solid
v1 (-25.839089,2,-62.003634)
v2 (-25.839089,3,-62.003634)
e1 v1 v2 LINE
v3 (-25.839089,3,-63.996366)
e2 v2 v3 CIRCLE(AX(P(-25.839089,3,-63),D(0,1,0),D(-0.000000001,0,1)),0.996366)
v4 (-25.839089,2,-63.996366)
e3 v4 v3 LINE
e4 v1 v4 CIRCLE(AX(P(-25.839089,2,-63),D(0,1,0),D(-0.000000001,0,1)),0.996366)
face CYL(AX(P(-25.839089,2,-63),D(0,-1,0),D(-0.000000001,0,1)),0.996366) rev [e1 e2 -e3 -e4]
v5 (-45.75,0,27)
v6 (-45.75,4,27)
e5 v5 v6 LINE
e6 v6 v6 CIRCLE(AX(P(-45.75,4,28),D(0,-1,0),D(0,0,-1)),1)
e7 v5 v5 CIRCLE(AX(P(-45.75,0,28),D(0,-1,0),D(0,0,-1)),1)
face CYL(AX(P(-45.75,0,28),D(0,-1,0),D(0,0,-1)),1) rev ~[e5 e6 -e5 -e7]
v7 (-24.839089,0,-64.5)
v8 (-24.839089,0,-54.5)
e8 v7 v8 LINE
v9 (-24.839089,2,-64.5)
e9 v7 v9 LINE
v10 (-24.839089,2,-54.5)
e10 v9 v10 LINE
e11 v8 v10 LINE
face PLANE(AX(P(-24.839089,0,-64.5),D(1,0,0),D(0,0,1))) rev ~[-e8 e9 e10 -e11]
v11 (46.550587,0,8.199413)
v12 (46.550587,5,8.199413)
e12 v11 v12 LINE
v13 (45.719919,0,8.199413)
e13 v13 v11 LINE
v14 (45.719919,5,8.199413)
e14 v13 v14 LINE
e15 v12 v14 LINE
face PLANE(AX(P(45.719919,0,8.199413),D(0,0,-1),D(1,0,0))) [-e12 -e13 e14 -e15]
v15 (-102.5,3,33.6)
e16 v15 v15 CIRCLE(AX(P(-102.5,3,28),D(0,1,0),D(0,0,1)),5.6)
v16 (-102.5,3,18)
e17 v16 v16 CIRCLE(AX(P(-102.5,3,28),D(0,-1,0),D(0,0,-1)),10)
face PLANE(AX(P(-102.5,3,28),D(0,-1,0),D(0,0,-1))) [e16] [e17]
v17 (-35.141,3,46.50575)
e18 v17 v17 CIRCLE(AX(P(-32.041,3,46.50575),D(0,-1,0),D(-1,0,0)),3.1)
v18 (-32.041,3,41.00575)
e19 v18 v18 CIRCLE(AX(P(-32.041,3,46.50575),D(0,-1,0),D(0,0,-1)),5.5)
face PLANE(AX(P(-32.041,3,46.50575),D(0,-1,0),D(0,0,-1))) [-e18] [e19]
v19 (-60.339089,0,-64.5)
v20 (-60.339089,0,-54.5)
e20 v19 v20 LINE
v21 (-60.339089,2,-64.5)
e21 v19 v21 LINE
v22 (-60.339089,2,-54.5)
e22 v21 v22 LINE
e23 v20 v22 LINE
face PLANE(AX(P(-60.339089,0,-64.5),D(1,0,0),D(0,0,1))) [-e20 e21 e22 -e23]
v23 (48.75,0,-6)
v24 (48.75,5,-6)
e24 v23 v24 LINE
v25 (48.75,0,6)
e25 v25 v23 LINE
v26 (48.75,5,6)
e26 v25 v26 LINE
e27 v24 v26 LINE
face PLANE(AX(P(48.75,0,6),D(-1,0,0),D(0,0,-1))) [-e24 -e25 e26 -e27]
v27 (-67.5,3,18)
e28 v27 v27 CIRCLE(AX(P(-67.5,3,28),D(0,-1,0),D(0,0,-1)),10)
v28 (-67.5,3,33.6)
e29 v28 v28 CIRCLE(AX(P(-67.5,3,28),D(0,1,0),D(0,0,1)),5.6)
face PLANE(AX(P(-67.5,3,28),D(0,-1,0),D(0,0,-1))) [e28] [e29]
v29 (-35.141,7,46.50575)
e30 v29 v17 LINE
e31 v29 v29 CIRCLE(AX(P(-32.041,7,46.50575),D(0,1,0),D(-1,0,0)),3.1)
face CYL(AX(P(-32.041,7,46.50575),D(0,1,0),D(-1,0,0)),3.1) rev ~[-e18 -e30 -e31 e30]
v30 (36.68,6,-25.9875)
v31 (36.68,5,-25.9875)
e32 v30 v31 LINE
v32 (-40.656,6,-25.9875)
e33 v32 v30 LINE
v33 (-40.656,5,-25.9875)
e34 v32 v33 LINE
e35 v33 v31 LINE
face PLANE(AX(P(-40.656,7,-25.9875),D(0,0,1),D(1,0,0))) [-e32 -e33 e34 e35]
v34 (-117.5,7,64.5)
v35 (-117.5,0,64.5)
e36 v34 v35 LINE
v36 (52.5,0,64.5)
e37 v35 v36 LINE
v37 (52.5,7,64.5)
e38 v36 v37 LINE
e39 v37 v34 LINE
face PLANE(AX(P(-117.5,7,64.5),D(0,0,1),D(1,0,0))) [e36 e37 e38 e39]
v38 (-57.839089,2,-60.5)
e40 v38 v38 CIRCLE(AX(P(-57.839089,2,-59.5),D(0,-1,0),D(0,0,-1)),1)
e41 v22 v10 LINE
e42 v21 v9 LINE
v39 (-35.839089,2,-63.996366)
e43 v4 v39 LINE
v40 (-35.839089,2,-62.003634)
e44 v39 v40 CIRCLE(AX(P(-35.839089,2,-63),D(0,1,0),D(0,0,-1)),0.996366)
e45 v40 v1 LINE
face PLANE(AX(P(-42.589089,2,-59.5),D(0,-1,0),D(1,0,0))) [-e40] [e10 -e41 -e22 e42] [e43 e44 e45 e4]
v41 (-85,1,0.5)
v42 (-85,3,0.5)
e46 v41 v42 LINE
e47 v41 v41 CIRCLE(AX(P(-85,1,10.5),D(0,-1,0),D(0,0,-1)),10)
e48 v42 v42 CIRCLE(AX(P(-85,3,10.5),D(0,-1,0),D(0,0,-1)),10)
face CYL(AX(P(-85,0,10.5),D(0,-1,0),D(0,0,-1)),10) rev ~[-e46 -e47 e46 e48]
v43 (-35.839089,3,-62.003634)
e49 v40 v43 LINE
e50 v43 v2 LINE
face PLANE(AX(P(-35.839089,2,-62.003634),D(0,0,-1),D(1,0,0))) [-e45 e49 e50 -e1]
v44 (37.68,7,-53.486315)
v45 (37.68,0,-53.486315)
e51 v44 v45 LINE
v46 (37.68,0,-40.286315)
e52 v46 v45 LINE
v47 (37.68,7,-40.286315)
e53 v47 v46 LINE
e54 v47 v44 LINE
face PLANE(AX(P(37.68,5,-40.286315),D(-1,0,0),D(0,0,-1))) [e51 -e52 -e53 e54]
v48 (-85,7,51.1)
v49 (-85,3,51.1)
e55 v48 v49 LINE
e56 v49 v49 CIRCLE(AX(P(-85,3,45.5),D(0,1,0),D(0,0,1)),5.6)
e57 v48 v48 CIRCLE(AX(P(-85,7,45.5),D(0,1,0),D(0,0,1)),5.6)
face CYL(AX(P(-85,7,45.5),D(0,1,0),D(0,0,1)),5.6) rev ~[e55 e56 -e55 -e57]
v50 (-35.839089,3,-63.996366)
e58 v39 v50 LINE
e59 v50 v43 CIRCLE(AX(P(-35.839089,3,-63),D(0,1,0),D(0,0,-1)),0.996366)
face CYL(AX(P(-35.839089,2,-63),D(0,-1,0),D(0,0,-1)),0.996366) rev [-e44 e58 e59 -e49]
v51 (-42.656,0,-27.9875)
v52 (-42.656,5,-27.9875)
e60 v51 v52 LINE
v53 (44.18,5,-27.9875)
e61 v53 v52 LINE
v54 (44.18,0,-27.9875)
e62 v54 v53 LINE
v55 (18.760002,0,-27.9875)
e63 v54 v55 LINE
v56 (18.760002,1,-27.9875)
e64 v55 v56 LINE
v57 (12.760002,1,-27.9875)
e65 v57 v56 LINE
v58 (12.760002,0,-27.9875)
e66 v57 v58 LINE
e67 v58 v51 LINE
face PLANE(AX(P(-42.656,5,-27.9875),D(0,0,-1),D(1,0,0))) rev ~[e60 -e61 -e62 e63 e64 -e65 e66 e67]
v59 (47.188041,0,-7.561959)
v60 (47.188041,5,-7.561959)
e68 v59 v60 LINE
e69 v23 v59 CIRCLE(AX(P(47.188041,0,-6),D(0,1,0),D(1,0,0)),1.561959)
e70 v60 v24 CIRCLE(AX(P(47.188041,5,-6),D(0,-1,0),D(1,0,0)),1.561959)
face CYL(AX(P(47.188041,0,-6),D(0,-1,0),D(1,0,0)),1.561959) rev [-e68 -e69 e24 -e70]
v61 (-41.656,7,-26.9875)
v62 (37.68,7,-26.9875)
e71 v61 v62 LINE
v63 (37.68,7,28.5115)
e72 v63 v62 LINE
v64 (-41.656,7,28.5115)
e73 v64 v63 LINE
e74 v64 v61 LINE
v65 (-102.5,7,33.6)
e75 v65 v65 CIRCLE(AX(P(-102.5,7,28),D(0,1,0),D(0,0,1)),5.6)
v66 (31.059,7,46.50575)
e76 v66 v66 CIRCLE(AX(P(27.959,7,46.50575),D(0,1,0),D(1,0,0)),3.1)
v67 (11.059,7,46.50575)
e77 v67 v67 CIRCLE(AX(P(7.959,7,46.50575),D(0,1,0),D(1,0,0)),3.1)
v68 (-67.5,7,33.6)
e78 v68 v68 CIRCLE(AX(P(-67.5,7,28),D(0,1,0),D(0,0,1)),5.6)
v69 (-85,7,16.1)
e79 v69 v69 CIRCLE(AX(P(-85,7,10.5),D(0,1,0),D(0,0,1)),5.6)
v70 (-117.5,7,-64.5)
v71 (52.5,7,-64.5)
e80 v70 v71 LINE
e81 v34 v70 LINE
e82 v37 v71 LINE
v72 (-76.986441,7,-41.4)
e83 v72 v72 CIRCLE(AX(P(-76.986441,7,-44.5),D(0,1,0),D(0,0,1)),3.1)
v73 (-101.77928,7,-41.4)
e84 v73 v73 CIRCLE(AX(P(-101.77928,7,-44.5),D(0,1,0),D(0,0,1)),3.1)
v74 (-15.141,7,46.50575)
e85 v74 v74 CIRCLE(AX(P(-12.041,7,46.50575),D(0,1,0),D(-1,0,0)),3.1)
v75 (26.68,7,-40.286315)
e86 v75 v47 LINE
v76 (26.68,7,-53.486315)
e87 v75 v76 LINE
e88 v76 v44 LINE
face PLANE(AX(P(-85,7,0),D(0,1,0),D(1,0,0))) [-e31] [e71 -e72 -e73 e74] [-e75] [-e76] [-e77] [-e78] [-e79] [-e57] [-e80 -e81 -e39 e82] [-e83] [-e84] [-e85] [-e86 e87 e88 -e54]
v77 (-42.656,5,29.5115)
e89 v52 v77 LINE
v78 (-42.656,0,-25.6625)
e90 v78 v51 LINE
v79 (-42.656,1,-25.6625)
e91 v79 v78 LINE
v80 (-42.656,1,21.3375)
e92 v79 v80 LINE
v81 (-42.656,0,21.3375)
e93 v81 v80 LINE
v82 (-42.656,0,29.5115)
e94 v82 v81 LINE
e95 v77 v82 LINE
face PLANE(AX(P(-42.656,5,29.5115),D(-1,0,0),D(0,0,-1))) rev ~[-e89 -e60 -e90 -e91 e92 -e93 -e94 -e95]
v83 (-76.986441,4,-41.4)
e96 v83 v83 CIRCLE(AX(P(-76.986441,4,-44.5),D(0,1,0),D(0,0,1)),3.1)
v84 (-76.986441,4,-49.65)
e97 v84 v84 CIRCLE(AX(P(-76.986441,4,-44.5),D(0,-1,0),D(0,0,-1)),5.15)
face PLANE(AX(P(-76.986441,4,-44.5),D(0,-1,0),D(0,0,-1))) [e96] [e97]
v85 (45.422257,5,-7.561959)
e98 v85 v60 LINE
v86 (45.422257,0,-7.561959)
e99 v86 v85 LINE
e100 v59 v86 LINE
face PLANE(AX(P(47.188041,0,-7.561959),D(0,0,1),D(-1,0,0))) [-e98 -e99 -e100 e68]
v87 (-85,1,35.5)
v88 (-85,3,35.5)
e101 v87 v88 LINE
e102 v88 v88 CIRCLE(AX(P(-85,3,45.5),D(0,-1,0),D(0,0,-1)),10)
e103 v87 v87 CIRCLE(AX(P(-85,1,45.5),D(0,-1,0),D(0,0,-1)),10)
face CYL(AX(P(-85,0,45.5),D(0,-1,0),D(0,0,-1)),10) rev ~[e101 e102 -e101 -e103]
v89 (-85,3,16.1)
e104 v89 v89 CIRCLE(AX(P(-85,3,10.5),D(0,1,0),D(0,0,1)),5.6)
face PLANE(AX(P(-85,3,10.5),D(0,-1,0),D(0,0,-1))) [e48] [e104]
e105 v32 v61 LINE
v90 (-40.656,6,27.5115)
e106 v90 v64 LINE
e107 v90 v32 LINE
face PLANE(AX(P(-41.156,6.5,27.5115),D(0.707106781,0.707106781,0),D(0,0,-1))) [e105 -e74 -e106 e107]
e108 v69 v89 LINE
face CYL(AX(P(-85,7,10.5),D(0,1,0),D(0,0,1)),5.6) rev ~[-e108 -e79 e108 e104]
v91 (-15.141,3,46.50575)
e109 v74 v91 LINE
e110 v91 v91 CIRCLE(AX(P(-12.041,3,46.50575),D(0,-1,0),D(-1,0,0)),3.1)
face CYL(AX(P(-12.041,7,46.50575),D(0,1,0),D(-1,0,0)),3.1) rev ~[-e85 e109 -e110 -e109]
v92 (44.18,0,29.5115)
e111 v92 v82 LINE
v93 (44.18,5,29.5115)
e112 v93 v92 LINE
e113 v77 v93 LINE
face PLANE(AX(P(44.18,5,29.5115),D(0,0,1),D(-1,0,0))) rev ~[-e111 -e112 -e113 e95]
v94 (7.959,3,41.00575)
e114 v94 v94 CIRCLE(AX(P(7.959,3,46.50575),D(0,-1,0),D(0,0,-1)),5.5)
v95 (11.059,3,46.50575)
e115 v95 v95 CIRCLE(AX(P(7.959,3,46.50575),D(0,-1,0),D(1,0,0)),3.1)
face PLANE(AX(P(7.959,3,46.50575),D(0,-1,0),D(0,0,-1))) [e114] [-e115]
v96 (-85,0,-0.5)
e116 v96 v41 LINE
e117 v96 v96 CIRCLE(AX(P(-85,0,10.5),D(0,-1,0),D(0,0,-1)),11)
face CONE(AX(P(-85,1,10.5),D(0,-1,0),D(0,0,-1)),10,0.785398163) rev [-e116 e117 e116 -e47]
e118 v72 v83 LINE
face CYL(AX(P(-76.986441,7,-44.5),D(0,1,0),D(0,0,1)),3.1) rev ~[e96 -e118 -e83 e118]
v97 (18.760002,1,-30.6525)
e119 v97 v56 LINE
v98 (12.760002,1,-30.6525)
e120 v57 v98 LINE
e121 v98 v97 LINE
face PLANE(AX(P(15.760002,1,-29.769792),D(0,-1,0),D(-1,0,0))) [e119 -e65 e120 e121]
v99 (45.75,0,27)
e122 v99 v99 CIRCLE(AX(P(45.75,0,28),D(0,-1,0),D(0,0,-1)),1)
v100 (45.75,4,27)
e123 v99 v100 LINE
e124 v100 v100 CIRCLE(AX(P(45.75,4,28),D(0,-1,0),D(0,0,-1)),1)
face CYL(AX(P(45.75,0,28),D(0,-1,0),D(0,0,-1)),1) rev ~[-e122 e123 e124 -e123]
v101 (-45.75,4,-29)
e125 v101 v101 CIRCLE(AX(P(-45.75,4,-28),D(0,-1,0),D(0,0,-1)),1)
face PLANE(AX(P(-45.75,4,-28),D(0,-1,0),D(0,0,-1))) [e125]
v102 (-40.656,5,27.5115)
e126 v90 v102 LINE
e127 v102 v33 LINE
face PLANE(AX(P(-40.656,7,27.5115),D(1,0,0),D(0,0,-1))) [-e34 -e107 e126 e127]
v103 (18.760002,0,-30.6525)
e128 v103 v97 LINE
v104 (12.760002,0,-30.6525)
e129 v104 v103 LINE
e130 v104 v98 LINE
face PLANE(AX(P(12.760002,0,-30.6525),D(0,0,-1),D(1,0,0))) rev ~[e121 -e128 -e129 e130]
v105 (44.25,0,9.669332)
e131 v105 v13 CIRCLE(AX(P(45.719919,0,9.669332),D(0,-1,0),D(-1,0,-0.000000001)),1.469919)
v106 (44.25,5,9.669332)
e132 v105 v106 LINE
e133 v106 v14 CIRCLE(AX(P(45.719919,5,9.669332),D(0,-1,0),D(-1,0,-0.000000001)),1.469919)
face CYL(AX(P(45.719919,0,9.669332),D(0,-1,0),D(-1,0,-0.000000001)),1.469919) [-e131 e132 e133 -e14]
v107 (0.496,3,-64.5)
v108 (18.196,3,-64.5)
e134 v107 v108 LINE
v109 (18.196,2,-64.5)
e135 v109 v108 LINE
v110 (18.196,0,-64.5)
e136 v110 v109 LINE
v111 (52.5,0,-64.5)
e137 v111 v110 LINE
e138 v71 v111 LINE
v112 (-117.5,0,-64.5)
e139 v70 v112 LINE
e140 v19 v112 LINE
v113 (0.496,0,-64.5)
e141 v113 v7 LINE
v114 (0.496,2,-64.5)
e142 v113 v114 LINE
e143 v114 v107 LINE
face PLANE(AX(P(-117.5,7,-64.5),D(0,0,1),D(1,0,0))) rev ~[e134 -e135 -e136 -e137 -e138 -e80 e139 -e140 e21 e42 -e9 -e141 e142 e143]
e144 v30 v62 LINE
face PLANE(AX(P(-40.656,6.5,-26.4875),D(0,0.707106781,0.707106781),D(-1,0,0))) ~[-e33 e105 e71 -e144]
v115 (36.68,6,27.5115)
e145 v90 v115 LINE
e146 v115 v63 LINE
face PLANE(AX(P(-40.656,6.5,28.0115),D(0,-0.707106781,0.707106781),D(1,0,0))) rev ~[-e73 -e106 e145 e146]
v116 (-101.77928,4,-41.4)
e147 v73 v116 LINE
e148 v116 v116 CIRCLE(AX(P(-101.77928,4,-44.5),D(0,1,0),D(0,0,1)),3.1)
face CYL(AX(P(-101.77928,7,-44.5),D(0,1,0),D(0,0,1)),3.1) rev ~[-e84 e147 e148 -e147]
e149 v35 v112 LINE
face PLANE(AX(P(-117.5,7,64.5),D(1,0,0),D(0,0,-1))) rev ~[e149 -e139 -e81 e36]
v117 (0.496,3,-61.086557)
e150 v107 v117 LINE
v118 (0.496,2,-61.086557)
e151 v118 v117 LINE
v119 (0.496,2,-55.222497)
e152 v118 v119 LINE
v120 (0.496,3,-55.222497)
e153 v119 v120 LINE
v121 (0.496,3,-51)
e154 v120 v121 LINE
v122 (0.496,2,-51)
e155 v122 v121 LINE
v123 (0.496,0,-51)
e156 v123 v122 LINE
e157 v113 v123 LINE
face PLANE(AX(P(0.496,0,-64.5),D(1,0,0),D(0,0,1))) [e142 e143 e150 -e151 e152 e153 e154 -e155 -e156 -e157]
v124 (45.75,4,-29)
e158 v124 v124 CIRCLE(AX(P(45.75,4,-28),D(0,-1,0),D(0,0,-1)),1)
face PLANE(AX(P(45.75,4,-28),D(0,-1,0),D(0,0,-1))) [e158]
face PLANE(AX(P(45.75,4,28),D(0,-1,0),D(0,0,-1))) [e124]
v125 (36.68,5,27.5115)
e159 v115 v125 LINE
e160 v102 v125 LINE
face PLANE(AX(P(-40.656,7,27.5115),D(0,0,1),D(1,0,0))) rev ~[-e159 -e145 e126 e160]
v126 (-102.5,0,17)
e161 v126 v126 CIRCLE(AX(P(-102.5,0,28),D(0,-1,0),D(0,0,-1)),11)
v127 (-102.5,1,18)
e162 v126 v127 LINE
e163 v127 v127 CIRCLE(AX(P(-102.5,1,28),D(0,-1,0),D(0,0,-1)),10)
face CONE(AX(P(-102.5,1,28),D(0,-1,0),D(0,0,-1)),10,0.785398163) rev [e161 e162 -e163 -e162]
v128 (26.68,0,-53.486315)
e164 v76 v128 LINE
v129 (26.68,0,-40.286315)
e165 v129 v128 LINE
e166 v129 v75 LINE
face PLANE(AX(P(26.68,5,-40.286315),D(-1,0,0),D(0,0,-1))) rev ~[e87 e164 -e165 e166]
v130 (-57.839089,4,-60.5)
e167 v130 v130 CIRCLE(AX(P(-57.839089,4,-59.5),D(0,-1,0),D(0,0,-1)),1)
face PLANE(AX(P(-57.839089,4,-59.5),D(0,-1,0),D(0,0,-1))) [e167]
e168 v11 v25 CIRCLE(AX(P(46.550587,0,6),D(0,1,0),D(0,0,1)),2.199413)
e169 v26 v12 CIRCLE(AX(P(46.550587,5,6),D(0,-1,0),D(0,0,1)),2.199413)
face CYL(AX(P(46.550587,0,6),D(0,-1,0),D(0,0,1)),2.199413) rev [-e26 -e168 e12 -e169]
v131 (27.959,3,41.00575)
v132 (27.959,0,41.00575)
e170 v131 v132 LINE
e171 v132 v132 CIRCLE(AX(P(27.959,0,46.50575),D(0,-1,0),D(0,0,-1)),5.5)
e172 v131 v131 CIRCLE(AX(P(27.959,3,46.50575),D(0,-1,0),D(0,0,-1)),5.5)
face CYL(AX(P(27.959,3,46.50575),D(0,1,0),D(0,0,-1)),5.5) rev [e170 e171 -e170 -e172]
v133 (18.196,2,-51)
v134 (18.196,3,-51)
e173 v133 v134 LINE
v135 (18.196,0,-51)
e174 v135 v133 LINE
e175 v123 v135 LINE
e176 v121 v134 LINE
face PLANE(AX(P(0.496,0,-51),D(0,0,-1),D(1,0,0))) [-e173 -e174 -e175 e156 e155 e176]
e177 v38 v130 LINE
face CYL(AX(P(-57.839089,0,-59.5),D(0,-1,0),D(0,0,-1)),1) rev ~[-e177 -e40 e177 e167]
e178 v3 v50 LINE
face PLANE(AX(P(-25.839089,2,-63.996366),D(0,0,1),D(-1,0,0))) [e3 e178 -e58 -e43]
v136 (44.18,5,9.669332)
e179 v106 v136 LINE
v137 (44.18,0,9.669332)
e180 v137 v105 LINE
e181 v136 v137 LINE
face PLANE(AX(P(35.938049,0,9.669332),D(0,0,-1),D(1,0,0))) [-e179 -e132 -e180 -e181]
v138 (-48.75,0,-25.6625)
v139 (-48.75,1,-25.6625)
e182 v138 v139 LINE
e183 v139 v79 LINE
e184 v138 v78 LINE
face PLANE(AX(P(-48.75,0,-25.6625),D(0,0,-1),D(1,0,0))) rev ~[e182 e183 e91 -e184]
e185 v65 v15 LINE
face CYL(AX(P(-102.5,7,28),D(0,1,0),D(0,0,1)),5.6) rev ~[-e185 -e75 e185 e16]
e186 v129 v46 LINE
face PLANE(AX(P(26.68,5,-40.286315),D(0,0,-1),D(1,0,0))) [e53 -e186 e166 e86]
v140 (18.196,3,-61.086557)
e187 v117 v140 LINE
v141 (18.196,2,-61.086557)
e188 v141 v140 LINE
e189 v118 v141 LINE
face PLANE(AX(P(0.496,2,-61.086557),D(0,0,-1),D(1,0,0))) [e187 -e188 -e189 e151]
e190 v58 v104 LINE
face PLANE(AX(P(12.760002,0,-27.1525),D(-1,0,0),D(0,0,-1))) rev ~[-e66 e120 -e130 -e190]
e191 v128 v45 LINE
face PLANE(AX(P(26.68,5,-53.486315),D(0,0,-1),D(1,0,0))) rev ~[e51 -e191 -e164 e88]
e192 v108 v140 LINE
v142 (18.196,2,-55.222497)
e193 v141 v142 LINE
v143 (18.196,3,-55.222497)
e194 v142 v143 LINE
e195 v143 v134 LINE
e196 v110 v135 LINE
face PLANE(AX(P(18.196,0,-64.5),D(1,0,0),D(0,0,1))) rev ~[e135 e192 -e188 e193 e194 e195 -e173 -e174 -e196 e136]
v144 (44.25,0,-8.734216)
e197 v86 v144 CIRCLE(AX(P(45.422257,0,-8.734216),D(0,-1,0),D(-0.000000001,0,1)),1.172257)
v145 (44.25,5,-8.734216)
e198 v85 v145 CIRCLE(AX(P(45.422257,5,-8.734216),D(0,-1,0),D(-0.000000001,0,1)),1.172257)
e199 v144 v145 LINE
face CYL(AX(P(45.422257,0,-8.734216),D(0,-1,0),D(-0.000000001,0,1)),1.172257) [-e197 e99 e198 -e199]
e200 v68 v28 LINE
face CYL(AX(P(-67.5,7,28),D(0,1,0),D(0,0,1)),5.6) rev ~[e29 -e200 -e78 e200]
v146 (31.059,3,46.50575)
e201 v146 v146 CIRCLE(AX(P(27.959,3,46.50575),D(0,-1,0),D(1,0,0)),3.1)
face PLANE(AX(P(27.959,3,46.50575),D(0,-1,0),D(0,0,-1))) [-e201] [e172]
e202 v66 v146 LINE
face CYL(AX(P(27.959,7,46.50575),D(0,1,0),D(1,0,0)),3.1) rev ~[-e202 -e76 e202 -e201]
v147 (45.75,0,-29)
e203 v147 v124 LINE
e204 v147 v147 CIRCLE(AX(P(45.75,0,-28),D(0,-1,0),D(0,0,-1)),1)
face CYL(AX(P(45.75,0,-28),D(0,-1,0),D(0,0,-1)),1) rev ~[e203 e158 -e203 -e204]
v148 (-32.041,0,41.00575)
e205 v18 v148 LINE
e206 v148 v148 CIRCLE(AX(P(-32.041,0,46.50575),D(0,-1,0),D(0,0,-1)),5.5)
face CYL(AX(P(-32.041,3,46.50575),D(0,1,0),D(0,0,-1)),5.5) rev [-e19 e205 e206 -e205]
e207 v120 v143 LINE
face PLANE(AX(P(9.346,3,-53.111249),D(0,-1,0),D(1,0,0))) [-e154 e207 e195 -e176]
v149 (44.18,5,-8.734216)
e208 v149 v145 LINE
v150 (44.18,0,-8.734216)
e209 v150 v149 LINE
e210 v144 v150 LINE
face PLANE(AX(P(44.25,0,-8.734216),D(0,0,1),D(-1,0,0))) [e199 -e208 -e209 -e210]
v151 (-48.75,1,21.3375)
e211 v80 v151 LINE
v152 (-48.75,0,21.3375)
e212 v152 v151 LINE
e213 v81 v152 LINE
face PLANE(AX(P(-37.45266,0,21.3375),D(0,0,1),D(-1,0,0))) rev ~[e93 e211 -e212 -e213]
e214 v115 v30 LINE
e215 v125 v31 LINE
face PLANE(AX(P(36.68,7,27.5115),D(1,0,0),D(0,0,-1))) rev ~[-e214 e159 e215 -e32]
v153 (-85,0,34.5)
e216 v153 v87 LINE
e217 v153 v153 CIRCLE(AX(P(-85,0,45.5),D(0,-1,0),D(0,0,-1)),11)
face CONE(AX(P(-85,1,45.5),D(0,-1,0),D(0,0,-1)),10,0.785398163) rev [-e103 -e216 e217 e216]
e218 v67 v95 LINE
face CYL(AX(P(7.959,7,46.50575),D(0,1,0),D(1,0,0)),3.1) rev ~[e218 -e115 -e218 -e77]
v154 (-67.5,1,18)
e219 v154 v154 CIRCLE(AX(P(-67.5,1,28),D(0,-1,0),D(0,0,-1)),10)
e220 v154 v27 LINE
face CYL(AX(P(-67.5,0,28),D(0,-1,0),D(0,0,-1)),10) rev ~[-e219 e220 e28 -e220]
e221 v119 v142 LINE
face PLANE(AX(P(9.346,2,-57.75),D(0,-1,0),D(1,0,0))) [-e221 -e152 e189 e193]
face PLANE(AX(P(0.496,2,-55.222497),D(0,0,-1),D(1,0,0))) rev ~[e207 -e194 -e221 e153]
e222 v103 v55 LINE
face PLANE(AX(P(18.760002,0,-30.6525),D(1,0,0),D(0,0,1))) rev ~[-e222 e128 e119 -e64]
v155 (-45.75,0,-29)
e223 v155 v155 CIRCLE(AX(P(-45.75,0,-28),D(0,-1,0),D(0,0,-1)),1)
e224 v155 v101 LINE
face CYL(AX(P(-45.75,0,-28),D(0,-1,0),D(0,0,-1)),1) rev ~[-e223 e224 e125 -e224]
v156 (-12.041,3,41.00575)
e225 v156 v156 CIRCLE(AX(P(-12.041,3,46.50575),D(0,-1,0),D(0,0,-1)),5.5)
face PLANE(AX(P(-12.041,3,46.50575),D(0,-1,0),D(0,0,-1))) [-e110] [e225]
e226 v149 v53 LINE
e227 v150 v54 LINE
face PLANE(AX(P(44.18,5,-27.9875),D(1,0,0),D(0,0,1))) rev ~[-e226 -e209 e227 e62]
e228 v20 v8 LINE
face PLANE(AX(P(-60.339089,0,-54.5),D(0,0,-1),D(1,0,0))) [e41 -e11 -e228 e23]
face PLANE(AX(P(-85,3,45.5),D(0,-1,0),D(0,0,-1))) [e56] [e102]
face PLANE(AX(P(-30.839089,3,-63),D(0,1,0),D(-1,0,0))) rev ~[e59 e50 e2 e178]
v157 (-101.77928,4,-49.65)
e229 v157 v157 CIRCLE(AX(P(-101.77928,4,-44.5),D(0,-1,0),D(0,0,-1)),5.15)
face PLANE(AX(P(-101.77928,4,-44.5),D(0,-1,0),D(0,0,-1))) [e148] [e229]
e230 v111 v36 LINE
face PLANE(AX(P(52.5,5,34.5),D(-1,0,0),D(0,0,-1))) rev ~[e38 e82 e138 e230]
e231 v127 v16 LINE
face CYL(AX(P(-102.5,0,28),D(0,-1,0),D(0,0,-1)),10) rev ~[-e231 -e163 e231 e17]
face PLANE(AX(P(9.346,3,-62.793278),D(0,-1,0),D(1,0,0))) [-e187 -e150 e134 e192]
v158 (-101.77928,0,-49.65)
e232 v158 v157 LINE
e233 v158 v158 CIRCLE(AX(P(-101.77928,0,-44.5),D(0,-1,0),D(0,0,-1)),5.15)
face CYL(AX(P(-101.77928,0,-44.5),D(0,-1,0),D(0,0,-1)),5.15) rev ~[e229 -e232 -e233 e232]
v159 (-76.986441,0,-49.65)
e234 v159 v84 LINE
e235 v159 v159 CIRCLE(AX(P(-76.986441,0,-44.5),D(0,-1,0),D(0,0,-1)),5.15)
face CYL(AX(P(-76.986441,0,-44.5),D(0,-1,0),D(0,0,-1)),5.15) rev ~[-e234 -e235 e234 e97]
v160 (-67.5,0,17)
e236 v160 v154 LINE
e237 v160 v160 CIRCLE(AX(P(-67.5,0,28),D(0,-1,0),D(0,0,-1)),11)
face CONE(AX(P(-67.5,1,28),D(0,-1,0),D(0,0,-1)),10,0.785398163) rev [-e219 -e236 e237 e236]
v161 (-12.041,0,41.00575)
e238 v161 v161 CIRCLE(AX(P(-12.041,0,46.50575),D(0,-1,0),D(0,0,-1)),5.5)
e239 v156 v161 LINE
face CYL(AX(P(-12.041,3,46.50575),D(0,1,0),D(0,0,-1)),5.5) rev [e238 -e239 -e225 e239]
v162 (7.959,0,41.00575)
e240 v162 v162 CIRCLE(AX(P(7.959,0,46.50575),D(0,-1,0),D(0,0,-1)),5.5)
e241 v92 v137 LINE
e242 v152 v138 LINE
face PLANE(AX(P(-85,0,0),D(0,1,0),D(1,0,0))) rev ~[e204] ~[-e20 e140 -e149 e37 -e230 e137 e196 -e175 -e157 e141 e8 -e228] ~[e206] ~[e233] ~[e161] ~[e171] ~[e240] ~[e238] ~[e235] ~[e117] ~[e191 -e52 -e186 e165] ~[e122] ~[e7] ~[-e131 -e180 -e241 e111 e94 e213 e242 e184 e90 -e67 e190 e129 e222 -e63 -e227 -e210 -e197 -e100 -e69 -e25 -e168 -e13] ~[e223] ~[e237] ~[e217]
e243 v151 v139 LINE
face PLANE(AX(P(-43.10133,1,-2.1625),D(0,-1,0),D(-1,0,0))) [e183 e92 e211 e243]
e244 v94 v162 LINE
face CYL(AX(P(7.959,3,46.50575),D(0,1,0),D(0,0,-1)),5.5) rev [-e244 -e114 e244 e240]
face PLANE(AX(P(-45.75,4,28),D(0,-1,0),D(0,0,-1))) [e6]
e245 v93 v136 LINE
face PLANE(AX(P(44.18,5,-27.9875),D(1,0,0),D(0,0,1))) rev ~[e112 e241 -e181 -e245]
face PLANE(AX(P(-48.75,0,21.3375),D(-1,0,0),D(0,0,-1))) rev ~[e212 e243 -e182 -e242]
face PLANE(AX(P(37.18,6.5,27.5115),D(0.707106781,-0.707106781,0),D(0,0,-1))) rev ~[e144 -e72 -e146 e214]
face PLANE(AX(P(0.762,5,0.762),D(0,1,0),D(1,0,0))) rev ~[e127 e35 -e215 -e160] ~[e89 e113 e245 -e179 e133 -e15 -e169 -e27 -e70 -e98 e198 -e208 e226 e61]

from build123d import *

# Parameters (mm, degrees)
SKETCH1_W           = 105
SKETCH1_H           = 69
BOSS_EXTRUDE1_DEPTH = 5
SKETCH2_W           = 86.836
SKETCH2_H           = 57.499
CUT_EXTRUDE1_DEPTH  = 81.210380614
CUT_EXTRUDE2_DEPTH  = 1
SKETCH4_W           = 5
SKETCH4_H           = 2.165
SKETCH4_H_2         = 0.335
CUT_EXTRUDE3_DEPTH  = 1
CUT_EXTRUDE4_DEPTH  = 81.210380614
SKETCH9_R           = 1
CUT_EXTRUDE7_DEPTH  = 4
SKETCH7_W           = 105
SKETCH7_H           = 30
BOSS_EXTRUDE2_DEPTH = 5
SKETCH8_W           = 11
SKETCH8_H           = 13.2
CUT_EXTRUDE6_DEPTH  = 84.315664794
SKETCH10_W          = 105
SKETCH10_H          = 99
SKETCH10_W_2        = 11
SKETCH10_H_2        = 13.2
SKETCH10_H_3        = 30
BOSS_EXTRUDE3_DEPTH = 2
SKETCH11_W          = 77.336
SKETCH11_H          = 53.499
BOSS_EXTRUDE4_DEPTH = 2
CHAMFER1_SIZE       = 1
SKETCH12_W          = 65
SKETCH12_H          = 129
SKETCH12_R          = 5.6
BOSS_EXTRUDE5_DEPTH = 7
CUT_EXTRUDE8_DEPTH  = 135.221831309
CUT_EXTRUDE9_START  = -3
SKETCH16_R          = 5.5
SKETCH16_R_2        = 3.1
CUT_EXTRUDE9_DEPTH  = 3
SKETCH18_R          = 10
CUT_EXTRUDE10_DEPTH = 3
CHAMFER2_SIZE       = 1
SKETCH19_W          = 17.7
SKETCH19_H          = 13.5
CUT_EXTRUDE11_DEPTH = 2
SKETCH20_W          = 17.7
SKETCH20_H          = 3.413443427
SKETCH20_H_2        = 4.222497079
CUT_EXTRUDE12_DEPTH = 1
SKETCH22_W          = 35.5
SKETCH22_H          = 10
SKETCH22_R          = 1
CUT_EXTRUDE13_DEPTH = 2
SKETCH23_R          = 1
CUT_EXTRUDE14_DEPTH = 4
CUT_EXTRUDE15_DEPTH = 1
SKETCH25_R          = 3.1
CUT_EXTRUDE16_DEPTH = 135.221831309
SKETCH26_R          = 5.15
CUT_EXTRUDE17_DEPTH = 4


with BuildPart() as part:
    # Sketch1 → Boss-Extrude1 (new body)
    with BuildSketch(Plane(origin=(0, 0, 0), x_dir=(1, 0, 0), z_dir=(0, 1, 0))):
        Rectangle(SKETCH1_W, SKETCH1_H)
    extrude(amount=BOSS_EXTRUDE1_DEPTH)

    # Sketch2 → Cut-Extrude1 (cut, through all)
    with BuildSketch(Plane(origin=(17.072113262, 0, 5.103361153), x_dir=(-1, 0, 0), z_dir=(0, -1, 0))):
        with Locations((16.310113262, 4.341361153)):
            Rectangle(SKETCH2_W, SKETCH2_H)
    extrude(amount=-CUT_EXTRUDE1_DEPTH, mode=Mode.SUBTRACT)

    # Sketch3 → Cut-Extrude2 (cut)
    with BuildSketch(Plane(origin=(17.072113262, 0, 5.103361153), x_dir=(-1, 0, 0), z_dir=(0, -1, 0))):
        Polygon((59.822113262, 30.765861153), (54.524773562, 30.765861153), (54.524773562, -16.234138847), (59.822113262, -16.234138847), (65.822113262, -16.234138847), (65.822113262, 30.765861153), align=None)
    extrude(amount=-CUT_EXTRUDE2_DEPTH, mode=Mode.SUBTRACT)

    # Sketch4 → Cut-Extrude3 (cut)
    with BuildSketch(Plane(origin=(17.072113262, 0, 5.103361153), x_dir=(-1, 0, 0), z_dir=(0, -1, 0))):
        Polygon((-1.187888405, 35.255861153), (3.812111595, 35.255861153), (3.812111595, 33.090861153), (4.312111595, 33.090861153), (4.312111595, 35.755861153), (-1.687888405, 35.755861153), (-1.687888405, 33.090861153), (-1.187888405, 33.090861153), align=None)
        with Locations((1.312111595, 34.173361153)):
            Rectangle(SKETCH4_W, SKETCH4_H)
        Polygon((4.312111595, 33.090861153), (3.812111595, 33.090861153), (3.812111595, 32.755861153), (-1.187888405, 32.755861153), (-1.187888405, 33.090861153), (-1.687888405, 33.090861153), (-1.687888405, 32.255861153), (4.312111595, 32.255861153), align=None)
        with Locations((1.312111595, 32.923361153)):
            Rectangle(SKETCH4_W, SKETCH4_H_2)
    extrude(amount=-CUT_EXTRUDE3_DEPTH, mode=Mode.SUBTRACT)

    # Sketch5 → Cut-Extrude4 (cut, through all)
    with BuildSketch(Plane(origin=(17.072113262, 0, 5.103361153), x_dir=(-1, 0, 0), z_dir=(0, -1, 0))):
        with BuildLine():
            Line((-31.677886738, -0.896638847), (-31.677886738, 11.103361153))
            ThreePointArc((-31.677886738, 11.103361153), (-31.220399504, 12.207833039), (-30.115927617, 12.665320274))
            Line((-30.115927617, 12.665320274), (-28.350143546, 12.665320274))
            ThreePointArc((-28.350143546, 12.665320274), (-27.521232808, 13.008666344), (-27.177886738, 13.837577082))
            Line((-27.177886738, 13.837577082), (-18.865935491, 13.837577082))
            Line((-18.865935491, 13.837577082), (-18.865935491, -4.56597095))
            Line((-18.865935491, -4.56597095), (-27.177886738, -4.56597095))
            ThreePointArc((-27.177886738, -4.56597095), (-27.60841615, -3.526581006), (-28.647806094, -3.096051594))
            Line((-28.647806094, -3.096051594), (-29.478473991, -3.096051594))
            ThreePointArc((-29.478473991, -3.096051594), (-31.033693659, -2.451858515), (-31.677886738, -0.896638847))
        make_face()
    extrude(amount=-CUT_EXTRUDE4_DEPTH, mode=Mode.SUBTRACT)

    # Sketch9 → Cut-Extrude7 (cut)
    with BuildSketch(Plane(origin=(17.072113262, 0, 5.103361153), x_dir=(-1, 0, 0), z_dir=(0, -1, 0))):
        with Locations(Location((-28.677886738, 33.103361153, 0), (0, 0, 90))):
            Circle(SKETCH9_R)
        with Locations(Location((62.822113262, 33.103361153, 0), (0, 0, 90))):
            Circle(SKETCH9_R)
        with Locations(Location((-28.677886738, -22.896638847, 0), (0, 0, 90))):
            Circle(SKETCH9_R)
        with Locations(Location((62.822113262, -22.896638847, 0), (0, 0, 90))):
            Circle(SKETCH9_R)
    extrude(amount=-CUT_EXTRUDE7_DEPTH, mode=Mode.SUBTRACT)

    # Sketch7 → Boss-Extrude2 (add)
    with BuildSketch(Plane(origin=(0, 5, 0), x_dir=(1, 0, 0), z_dir=(0, 1, 0))):
        with Locations((0, 49.5)):
            Rectangle(SKETCH7_W, SKETCH7_H)
        with Locations((0, -49.5)):
            Rectangle(SKETCH7_W, SKETCH7_H)
    extrude(amount=-BOSS_EXTRUDE2_DEPTH)

    # Sketch8 → Cut-Extrude6 (cut, through all)
    with BuildSketch(Plane(origin=(0, 5, 0), x_dir=(1, 0, 0), z_dir=(0, 1, 0))):
        with Locations((32.18, 46.886314888)):
            Rectangle(SKETCH8_W, SKETCH8_H)
    extrude(amount=-CUT_EXTRUDE6_DEPTH, mode=Mode.SUBTRACT)

    # Sketch10 → Boss-Extrude3 (add)
    # profile 1 of 2: a face of its own
    with BuildSketch(Plane(origin=(0, 5, 0), x_dir=(1, 0, 0), z_dir=(0, 1, 0))):
        with Locations((0, 15)):
            Rectangle(SKETCH10_W, SKETCH10_H)
        Polygon((-42.656, 27.9875), (44.18, 27.9875), (44.18, 8.734215929), (44.18, -9.669332102), (44.18, -29.5115), (-42.656, -29.5115), align=None, mode=Mode.SUBTRACT)
        with Locations((32.18, 46.886314888)):
            Rectangle(SKETCH10_W_2, SKETCH10_H_2, mode=Mode.SUBTRACT)
    # profile 2 of 2: a face of its own
    with BuildSketch(Plane(origin=(0, 5, 0), x_dir=(1, 0, 0), z_dir=(0, 1, 0))):
        with Locations((0, -49.5)):
            Rectangle(SKETCH10_W, SKETCH10_H_3)
    extrude(amount=BOSS_EXTRUDE3_DEPTH)

    # Sketch11 → Boss-Extrude4 (add)
    with BuildSketch(Plane(origin=(0, 7, 0), x_dir=(1, 0, 0), z_dir=(0, 1, 0))):
        Polygon((-40.656, 27.9875), (-42.656, 27.9875), (-42.656, 25.9875), (-42.656, -27.5115), (-42.656, -29.5115), (-40.656, -29.5115), (36.68, -29.5115), (44.18, -29.5115), (44.18, 27.9875), (36.68, 27.9875), align=None)
        with Locations((-1.988, -0.762)):
            Rectangle(SKETCH11_W, SKETCH11_H, mode=Mode.SUBTRACT)
    extrude(amount=-BOSS_EXTRUDE4_DEPTH)

    # Chamfer1
    chamfer1_edges = [part.edges().sort_by_distance(p)[0] for p in [
        (-40.656, 7, 0.762),
        (-1.988, 7, 27.5115),
        (36.68, 7, 0.762),
        (-1.988, 7, -25.9875),
    ]]
    chamfer(chamfer1_edges, length=CHAMFER1_SIZE)

    # Sketch12 → Boss-Extrude5 (add)
    with BuildSketch(Plane(origin=(0, 7, 0), x_dir=(1, 0, 0), z_dir=(0, 1, 0))):
        with Locations((-85, 0)):
            Rectangle(SKETCH12_W, SKETCH12_H)
        with Locations(Location((-85, -45.5, 0), (0, 0, 270))):
            Circle(SKETCH12_R, mode=Mode.SUBTRACT)
        with Locations(Location((-102.5, -28, 0), (0, 0, 270))):
            Circle(SKETCH12_R, mode=Mode.SUBTRACT)
        with Locations(Location((-67.5, -28, 0), (0, 0, 270))):
            Circle(SKETCH12_R, mode=Mode.SUBTRACT)
        with Locations(Location((-85, -10.5, 0), (0, 0, 270))):
            Circle(SKETCH12_R, mode=Mode.SUBTRACT)
    extrude(amount=-BOSS_EXTRUDE5_DEPTH)

    # Sketch15 → Cut-Extrude8 (cut, through all)
    with BuildSketch(Plane(origin=(0, 7, 0), x_dir=(1, 0, 0), z_dir=(0, 1, 0))):
        with BuildLine():
            ThreePointArc((-28.941, -46.50575), (-32.041, -43.40575), (-35.141, -46.50575))
            Line((-35.141, -46.50575), (-28.941, -46.50575))
        make_face()
        with BuildLine():
            Line((-28.941, -46.50575), (-35.141, -46.50575))
            ThreePointArc((-35.141, -46.50575), (-32.041, -49.60575), (-28.941, -46.50575))
        make_face()
        with BuildLine():
            ThreePointArc((-8.941, -46.50575), (-12.041, -43.40575), (-15.141, -46.50575))
            Line((-15.141, -46.50575), (-8.941, -46.50575))
        make_face()
        with BuildLine():
            Line((-8.941, -46.50575), (-15.141, -46.50575))
            ThreePointArc((-15.141, -46.50575), (-12.041, -49.60575), (-8.941, -46.50575))
        make_face()
        with BuildLine():
            ThreePointArc((4.859, -46.50575), (7.959, -49.60575), (11.059, -46.50575))
            Line((11.059, -46.50575), (4.859, -46.50575))
        make_face()
        with BuildLine():
            Line((4.859, -46.50575), (11.059, -46.50575))
            ThreePointArc((11.059, -46.50575), (7.959, -43.40575), (4.859, -46.50575))
        make_face()
        with BuildLine():
            ThreePointArc((24.859, -46.50575), (27.959, -49.60575), (31.059, -46.50575))
            Line((31.059, -46.50575), (24.859, -46.50575))
        make_face()
        with BuildLine():
            Line((24.859, -46.50575), (31.059, -46.50575))
            ThreePointArc((31.059, -46.50575), (27.959, -43.40575), (24.859, -46.50575))
        make_face()
    extrude(amount=-CUT_EXTRUDE8_DEPTH, mode=Mode.SUBTRACT)

    # Sketch16 → Cut-Extrude9 (cut)
    # profile 1 of 4: a face of its own
    with BuildSketch(Plane.XZ.offset(CUT_EXTRUDE9_START)):
        with Locations(Location((-32.041, 46.50575, 0), (0, 0, 270))):
            Circle(SKETCH16_R)
        with Locations(Location((-32.041, 46.50575, 0), (0, 0, 90))):
            Circle(SKETCH16_R_2, mode=Mode.SUBTRACT)
    # profile 2 of 4: a face of its own
    with BuildSketch(Plane.XZ.offset(CUT_EXTRUDE9_START)):
        with Locations(Location((-12.041, 46.50575, 0), (0, 0, 270))):
            Circle(SKETCH16_R)
        with Locations(Location((-12.041, 46.50575, 0), (0, 0, 90))):
            Circle(SKETCH16_R_2, mode=Mode.SUBTRACT)
    # profile 3 of 4: a face of its own
    with BuildSketch(Plane.XZ.offset(CUT_EXTRUDE9_START)):
        with Locations(Location((7.959, 46.50575, 0), (0, 0, 270))):
            Circle(SKETCH16_R)
        with Locations(Location((7.959, 46.50575, 0), (0, 0, 90))):
            Circle(SKETCH16_R_2, mode=Mode.SUBTRACT)
    # profile 4 of 4: a face of its own
    with BuildSketch(Plane.XZ.offset(CUT_EXTRUDE9_START)):
        with Locations(Location((27.959, 46.50575, 0), (0, 0, 270))):
            Circle(SKETCH16_R)
        with Locations(Location((27.959, 46.50575, 0), (0, 0, 90))):
            Circle(SKETCH16_R_2, mode=Mode.SUBTRACT)
    extrude(amount=CUT_EXTRUDE9_DEPTH, mode=Mode.SUBTRACT)

    # Sketch18 → Cut-Extrude10 (cut)
    with BuildSketch(Plane.XZ):
        with Locations(Location((-85, 45.5, 0), (0, 0, 270))):
            Circle(SKETCH18_R)
        with Locations(Location((-102.5, 28, 0), (0, 0, 270))):
            Circle(SKETCH18_R)
        with Locations(Location((-85, 10.5, 0), (0, 0, 270))):
            Circle(SKETCH18_R)
        with Locations(Location((-67.5, 28, 0), (0, 0, 270))):
            Circle(SKETCH18_R)
    extrude(amount=-CUT_EXTRUDE10_DEPTH, mode=Mode.SUBTRACT)

    # Chamfer2
    chamfer2_edges = [part.edges().sort_by_distance(p)[0] for p in [
        (-85, 0, 20.5),
        (-102.5, 0, 38),
        (-67.5, 0, 38),
        (-85, 0, 55.5),
    ]]
    chamfer(chamfer2_edges, length=CHAMFER2_SIZE)

    # Sketch19 → Cut-Extrude11 (cut)
    with BuildSketch(Plane.XZ):
        with Locations((9.346, -57.75)):
            Rectangle(SKETCH19_W, SKETCH19_H)
    extrude(amount=-CUT_EXTRUDE11_DEPTH, mode=Mode.SUBTRACT)

    # Sketch20 → Cut-Extrude12 (cut)
    with BuildSketch(Plane.XZ.offset(-2)):
        with Locations((9.346, -62.793278286)):
            Rectangle(SKETCH20_W, SKETCH20_H)
        with Locations((9.346, -53.111248539)):
            Rectangle(SKETCH20_W, SKETCH20_H_2)
    extrude(amount=-CUT_EXTRUDE12_DEPTH, mode=Mode.SUBTRACT)

    # Sketch22 → Cut-Extrude13 (cut)
    with BuildSketch(Plane.XZ):
        with Locations((-42.589089221, -59.5)):
            Rectangle(SKETCH22_W, SKETCH22_H)
        with Locations(Location((-57.839089221, -59.5, 0), (0, 0, 270))):
            Circle(SKETCH22_R, mode=Mode.SUBTRACT)
    extrude(amount=-CUT_EXTRUDE13_DEPTH, mode=Mode.SUBTRACT)

    # Sketch23 → Cut-Extrude14 (cut)
    with BuildSketch(Plane.XZ):
        with Locations(Location((-57.839089221, -59.5, 0), (0, 0, 270))):
            Circle(SKETCH23_R)
    extrude(amount=-CUT_EXTRUDE14_DEPTH, mode=Mode.SUBTRACT)

    # Sketch24 → Cut-Extrude15 (cut)
    with BuildSketch(Plane.XZ.offset(-2)):
        with BuildLine():
            Line((-35.839089221, -62.003634145), (-25.839089221, -62.003634145))
            ThreePointArc((-25.839089221, -62.003634145), (-24.842723365, -63), (-25.839089221, -63.996365855))
            Line((-25.839089221, -63.996365855), (-35.839089221, -63.996365855))
            ThreePointArc((-35.839089221, -63.996365855), (-36.835455076, -63), (-35.839089221, -62.003634145))
        make_face()
    extrude(amount=-CUT_EXTRUDE15_DEPTH, mode=Mode.SUBTRACT)

    # Sketch25 → Cut-Extrude16 (cut, through all)
    with BuildSketch(Plane(origin=(0, 7, 0), x_dir=(1, 0, 0), z_dir=(0, 1, 0))):
        with Locations(Location((-101.779279968, 44.5, 0), (0, 0, 270))):
            Circle(SKETCH25_R)
        with Locations(Location((-76.986441198, 44.5, 0), (0, 0, 270))):
            Circle(SKETCH25_R)
    extrude(amount=-CUT_EXTRUDE16_DEPTH, mode=Mode.SUBTRACT)

    # Sketch26 → Cut-Extrude17 (cut)
    with BuildSketch(Plane.XZ):
        with Locations(Location((-101.779279968, -44.5, 0), (0, 0, 270))):
            Circle(SKETCH26_R)
        with Locations(Location((-76.986441198, -44.5, 0), (0, 0, 270))):
            Circle(SKETCH26_R)
    extrude(amount=-CUT_EXTRUDE17_DEPTH, mode=Mode.SUBTRACT)


solid = part.part
